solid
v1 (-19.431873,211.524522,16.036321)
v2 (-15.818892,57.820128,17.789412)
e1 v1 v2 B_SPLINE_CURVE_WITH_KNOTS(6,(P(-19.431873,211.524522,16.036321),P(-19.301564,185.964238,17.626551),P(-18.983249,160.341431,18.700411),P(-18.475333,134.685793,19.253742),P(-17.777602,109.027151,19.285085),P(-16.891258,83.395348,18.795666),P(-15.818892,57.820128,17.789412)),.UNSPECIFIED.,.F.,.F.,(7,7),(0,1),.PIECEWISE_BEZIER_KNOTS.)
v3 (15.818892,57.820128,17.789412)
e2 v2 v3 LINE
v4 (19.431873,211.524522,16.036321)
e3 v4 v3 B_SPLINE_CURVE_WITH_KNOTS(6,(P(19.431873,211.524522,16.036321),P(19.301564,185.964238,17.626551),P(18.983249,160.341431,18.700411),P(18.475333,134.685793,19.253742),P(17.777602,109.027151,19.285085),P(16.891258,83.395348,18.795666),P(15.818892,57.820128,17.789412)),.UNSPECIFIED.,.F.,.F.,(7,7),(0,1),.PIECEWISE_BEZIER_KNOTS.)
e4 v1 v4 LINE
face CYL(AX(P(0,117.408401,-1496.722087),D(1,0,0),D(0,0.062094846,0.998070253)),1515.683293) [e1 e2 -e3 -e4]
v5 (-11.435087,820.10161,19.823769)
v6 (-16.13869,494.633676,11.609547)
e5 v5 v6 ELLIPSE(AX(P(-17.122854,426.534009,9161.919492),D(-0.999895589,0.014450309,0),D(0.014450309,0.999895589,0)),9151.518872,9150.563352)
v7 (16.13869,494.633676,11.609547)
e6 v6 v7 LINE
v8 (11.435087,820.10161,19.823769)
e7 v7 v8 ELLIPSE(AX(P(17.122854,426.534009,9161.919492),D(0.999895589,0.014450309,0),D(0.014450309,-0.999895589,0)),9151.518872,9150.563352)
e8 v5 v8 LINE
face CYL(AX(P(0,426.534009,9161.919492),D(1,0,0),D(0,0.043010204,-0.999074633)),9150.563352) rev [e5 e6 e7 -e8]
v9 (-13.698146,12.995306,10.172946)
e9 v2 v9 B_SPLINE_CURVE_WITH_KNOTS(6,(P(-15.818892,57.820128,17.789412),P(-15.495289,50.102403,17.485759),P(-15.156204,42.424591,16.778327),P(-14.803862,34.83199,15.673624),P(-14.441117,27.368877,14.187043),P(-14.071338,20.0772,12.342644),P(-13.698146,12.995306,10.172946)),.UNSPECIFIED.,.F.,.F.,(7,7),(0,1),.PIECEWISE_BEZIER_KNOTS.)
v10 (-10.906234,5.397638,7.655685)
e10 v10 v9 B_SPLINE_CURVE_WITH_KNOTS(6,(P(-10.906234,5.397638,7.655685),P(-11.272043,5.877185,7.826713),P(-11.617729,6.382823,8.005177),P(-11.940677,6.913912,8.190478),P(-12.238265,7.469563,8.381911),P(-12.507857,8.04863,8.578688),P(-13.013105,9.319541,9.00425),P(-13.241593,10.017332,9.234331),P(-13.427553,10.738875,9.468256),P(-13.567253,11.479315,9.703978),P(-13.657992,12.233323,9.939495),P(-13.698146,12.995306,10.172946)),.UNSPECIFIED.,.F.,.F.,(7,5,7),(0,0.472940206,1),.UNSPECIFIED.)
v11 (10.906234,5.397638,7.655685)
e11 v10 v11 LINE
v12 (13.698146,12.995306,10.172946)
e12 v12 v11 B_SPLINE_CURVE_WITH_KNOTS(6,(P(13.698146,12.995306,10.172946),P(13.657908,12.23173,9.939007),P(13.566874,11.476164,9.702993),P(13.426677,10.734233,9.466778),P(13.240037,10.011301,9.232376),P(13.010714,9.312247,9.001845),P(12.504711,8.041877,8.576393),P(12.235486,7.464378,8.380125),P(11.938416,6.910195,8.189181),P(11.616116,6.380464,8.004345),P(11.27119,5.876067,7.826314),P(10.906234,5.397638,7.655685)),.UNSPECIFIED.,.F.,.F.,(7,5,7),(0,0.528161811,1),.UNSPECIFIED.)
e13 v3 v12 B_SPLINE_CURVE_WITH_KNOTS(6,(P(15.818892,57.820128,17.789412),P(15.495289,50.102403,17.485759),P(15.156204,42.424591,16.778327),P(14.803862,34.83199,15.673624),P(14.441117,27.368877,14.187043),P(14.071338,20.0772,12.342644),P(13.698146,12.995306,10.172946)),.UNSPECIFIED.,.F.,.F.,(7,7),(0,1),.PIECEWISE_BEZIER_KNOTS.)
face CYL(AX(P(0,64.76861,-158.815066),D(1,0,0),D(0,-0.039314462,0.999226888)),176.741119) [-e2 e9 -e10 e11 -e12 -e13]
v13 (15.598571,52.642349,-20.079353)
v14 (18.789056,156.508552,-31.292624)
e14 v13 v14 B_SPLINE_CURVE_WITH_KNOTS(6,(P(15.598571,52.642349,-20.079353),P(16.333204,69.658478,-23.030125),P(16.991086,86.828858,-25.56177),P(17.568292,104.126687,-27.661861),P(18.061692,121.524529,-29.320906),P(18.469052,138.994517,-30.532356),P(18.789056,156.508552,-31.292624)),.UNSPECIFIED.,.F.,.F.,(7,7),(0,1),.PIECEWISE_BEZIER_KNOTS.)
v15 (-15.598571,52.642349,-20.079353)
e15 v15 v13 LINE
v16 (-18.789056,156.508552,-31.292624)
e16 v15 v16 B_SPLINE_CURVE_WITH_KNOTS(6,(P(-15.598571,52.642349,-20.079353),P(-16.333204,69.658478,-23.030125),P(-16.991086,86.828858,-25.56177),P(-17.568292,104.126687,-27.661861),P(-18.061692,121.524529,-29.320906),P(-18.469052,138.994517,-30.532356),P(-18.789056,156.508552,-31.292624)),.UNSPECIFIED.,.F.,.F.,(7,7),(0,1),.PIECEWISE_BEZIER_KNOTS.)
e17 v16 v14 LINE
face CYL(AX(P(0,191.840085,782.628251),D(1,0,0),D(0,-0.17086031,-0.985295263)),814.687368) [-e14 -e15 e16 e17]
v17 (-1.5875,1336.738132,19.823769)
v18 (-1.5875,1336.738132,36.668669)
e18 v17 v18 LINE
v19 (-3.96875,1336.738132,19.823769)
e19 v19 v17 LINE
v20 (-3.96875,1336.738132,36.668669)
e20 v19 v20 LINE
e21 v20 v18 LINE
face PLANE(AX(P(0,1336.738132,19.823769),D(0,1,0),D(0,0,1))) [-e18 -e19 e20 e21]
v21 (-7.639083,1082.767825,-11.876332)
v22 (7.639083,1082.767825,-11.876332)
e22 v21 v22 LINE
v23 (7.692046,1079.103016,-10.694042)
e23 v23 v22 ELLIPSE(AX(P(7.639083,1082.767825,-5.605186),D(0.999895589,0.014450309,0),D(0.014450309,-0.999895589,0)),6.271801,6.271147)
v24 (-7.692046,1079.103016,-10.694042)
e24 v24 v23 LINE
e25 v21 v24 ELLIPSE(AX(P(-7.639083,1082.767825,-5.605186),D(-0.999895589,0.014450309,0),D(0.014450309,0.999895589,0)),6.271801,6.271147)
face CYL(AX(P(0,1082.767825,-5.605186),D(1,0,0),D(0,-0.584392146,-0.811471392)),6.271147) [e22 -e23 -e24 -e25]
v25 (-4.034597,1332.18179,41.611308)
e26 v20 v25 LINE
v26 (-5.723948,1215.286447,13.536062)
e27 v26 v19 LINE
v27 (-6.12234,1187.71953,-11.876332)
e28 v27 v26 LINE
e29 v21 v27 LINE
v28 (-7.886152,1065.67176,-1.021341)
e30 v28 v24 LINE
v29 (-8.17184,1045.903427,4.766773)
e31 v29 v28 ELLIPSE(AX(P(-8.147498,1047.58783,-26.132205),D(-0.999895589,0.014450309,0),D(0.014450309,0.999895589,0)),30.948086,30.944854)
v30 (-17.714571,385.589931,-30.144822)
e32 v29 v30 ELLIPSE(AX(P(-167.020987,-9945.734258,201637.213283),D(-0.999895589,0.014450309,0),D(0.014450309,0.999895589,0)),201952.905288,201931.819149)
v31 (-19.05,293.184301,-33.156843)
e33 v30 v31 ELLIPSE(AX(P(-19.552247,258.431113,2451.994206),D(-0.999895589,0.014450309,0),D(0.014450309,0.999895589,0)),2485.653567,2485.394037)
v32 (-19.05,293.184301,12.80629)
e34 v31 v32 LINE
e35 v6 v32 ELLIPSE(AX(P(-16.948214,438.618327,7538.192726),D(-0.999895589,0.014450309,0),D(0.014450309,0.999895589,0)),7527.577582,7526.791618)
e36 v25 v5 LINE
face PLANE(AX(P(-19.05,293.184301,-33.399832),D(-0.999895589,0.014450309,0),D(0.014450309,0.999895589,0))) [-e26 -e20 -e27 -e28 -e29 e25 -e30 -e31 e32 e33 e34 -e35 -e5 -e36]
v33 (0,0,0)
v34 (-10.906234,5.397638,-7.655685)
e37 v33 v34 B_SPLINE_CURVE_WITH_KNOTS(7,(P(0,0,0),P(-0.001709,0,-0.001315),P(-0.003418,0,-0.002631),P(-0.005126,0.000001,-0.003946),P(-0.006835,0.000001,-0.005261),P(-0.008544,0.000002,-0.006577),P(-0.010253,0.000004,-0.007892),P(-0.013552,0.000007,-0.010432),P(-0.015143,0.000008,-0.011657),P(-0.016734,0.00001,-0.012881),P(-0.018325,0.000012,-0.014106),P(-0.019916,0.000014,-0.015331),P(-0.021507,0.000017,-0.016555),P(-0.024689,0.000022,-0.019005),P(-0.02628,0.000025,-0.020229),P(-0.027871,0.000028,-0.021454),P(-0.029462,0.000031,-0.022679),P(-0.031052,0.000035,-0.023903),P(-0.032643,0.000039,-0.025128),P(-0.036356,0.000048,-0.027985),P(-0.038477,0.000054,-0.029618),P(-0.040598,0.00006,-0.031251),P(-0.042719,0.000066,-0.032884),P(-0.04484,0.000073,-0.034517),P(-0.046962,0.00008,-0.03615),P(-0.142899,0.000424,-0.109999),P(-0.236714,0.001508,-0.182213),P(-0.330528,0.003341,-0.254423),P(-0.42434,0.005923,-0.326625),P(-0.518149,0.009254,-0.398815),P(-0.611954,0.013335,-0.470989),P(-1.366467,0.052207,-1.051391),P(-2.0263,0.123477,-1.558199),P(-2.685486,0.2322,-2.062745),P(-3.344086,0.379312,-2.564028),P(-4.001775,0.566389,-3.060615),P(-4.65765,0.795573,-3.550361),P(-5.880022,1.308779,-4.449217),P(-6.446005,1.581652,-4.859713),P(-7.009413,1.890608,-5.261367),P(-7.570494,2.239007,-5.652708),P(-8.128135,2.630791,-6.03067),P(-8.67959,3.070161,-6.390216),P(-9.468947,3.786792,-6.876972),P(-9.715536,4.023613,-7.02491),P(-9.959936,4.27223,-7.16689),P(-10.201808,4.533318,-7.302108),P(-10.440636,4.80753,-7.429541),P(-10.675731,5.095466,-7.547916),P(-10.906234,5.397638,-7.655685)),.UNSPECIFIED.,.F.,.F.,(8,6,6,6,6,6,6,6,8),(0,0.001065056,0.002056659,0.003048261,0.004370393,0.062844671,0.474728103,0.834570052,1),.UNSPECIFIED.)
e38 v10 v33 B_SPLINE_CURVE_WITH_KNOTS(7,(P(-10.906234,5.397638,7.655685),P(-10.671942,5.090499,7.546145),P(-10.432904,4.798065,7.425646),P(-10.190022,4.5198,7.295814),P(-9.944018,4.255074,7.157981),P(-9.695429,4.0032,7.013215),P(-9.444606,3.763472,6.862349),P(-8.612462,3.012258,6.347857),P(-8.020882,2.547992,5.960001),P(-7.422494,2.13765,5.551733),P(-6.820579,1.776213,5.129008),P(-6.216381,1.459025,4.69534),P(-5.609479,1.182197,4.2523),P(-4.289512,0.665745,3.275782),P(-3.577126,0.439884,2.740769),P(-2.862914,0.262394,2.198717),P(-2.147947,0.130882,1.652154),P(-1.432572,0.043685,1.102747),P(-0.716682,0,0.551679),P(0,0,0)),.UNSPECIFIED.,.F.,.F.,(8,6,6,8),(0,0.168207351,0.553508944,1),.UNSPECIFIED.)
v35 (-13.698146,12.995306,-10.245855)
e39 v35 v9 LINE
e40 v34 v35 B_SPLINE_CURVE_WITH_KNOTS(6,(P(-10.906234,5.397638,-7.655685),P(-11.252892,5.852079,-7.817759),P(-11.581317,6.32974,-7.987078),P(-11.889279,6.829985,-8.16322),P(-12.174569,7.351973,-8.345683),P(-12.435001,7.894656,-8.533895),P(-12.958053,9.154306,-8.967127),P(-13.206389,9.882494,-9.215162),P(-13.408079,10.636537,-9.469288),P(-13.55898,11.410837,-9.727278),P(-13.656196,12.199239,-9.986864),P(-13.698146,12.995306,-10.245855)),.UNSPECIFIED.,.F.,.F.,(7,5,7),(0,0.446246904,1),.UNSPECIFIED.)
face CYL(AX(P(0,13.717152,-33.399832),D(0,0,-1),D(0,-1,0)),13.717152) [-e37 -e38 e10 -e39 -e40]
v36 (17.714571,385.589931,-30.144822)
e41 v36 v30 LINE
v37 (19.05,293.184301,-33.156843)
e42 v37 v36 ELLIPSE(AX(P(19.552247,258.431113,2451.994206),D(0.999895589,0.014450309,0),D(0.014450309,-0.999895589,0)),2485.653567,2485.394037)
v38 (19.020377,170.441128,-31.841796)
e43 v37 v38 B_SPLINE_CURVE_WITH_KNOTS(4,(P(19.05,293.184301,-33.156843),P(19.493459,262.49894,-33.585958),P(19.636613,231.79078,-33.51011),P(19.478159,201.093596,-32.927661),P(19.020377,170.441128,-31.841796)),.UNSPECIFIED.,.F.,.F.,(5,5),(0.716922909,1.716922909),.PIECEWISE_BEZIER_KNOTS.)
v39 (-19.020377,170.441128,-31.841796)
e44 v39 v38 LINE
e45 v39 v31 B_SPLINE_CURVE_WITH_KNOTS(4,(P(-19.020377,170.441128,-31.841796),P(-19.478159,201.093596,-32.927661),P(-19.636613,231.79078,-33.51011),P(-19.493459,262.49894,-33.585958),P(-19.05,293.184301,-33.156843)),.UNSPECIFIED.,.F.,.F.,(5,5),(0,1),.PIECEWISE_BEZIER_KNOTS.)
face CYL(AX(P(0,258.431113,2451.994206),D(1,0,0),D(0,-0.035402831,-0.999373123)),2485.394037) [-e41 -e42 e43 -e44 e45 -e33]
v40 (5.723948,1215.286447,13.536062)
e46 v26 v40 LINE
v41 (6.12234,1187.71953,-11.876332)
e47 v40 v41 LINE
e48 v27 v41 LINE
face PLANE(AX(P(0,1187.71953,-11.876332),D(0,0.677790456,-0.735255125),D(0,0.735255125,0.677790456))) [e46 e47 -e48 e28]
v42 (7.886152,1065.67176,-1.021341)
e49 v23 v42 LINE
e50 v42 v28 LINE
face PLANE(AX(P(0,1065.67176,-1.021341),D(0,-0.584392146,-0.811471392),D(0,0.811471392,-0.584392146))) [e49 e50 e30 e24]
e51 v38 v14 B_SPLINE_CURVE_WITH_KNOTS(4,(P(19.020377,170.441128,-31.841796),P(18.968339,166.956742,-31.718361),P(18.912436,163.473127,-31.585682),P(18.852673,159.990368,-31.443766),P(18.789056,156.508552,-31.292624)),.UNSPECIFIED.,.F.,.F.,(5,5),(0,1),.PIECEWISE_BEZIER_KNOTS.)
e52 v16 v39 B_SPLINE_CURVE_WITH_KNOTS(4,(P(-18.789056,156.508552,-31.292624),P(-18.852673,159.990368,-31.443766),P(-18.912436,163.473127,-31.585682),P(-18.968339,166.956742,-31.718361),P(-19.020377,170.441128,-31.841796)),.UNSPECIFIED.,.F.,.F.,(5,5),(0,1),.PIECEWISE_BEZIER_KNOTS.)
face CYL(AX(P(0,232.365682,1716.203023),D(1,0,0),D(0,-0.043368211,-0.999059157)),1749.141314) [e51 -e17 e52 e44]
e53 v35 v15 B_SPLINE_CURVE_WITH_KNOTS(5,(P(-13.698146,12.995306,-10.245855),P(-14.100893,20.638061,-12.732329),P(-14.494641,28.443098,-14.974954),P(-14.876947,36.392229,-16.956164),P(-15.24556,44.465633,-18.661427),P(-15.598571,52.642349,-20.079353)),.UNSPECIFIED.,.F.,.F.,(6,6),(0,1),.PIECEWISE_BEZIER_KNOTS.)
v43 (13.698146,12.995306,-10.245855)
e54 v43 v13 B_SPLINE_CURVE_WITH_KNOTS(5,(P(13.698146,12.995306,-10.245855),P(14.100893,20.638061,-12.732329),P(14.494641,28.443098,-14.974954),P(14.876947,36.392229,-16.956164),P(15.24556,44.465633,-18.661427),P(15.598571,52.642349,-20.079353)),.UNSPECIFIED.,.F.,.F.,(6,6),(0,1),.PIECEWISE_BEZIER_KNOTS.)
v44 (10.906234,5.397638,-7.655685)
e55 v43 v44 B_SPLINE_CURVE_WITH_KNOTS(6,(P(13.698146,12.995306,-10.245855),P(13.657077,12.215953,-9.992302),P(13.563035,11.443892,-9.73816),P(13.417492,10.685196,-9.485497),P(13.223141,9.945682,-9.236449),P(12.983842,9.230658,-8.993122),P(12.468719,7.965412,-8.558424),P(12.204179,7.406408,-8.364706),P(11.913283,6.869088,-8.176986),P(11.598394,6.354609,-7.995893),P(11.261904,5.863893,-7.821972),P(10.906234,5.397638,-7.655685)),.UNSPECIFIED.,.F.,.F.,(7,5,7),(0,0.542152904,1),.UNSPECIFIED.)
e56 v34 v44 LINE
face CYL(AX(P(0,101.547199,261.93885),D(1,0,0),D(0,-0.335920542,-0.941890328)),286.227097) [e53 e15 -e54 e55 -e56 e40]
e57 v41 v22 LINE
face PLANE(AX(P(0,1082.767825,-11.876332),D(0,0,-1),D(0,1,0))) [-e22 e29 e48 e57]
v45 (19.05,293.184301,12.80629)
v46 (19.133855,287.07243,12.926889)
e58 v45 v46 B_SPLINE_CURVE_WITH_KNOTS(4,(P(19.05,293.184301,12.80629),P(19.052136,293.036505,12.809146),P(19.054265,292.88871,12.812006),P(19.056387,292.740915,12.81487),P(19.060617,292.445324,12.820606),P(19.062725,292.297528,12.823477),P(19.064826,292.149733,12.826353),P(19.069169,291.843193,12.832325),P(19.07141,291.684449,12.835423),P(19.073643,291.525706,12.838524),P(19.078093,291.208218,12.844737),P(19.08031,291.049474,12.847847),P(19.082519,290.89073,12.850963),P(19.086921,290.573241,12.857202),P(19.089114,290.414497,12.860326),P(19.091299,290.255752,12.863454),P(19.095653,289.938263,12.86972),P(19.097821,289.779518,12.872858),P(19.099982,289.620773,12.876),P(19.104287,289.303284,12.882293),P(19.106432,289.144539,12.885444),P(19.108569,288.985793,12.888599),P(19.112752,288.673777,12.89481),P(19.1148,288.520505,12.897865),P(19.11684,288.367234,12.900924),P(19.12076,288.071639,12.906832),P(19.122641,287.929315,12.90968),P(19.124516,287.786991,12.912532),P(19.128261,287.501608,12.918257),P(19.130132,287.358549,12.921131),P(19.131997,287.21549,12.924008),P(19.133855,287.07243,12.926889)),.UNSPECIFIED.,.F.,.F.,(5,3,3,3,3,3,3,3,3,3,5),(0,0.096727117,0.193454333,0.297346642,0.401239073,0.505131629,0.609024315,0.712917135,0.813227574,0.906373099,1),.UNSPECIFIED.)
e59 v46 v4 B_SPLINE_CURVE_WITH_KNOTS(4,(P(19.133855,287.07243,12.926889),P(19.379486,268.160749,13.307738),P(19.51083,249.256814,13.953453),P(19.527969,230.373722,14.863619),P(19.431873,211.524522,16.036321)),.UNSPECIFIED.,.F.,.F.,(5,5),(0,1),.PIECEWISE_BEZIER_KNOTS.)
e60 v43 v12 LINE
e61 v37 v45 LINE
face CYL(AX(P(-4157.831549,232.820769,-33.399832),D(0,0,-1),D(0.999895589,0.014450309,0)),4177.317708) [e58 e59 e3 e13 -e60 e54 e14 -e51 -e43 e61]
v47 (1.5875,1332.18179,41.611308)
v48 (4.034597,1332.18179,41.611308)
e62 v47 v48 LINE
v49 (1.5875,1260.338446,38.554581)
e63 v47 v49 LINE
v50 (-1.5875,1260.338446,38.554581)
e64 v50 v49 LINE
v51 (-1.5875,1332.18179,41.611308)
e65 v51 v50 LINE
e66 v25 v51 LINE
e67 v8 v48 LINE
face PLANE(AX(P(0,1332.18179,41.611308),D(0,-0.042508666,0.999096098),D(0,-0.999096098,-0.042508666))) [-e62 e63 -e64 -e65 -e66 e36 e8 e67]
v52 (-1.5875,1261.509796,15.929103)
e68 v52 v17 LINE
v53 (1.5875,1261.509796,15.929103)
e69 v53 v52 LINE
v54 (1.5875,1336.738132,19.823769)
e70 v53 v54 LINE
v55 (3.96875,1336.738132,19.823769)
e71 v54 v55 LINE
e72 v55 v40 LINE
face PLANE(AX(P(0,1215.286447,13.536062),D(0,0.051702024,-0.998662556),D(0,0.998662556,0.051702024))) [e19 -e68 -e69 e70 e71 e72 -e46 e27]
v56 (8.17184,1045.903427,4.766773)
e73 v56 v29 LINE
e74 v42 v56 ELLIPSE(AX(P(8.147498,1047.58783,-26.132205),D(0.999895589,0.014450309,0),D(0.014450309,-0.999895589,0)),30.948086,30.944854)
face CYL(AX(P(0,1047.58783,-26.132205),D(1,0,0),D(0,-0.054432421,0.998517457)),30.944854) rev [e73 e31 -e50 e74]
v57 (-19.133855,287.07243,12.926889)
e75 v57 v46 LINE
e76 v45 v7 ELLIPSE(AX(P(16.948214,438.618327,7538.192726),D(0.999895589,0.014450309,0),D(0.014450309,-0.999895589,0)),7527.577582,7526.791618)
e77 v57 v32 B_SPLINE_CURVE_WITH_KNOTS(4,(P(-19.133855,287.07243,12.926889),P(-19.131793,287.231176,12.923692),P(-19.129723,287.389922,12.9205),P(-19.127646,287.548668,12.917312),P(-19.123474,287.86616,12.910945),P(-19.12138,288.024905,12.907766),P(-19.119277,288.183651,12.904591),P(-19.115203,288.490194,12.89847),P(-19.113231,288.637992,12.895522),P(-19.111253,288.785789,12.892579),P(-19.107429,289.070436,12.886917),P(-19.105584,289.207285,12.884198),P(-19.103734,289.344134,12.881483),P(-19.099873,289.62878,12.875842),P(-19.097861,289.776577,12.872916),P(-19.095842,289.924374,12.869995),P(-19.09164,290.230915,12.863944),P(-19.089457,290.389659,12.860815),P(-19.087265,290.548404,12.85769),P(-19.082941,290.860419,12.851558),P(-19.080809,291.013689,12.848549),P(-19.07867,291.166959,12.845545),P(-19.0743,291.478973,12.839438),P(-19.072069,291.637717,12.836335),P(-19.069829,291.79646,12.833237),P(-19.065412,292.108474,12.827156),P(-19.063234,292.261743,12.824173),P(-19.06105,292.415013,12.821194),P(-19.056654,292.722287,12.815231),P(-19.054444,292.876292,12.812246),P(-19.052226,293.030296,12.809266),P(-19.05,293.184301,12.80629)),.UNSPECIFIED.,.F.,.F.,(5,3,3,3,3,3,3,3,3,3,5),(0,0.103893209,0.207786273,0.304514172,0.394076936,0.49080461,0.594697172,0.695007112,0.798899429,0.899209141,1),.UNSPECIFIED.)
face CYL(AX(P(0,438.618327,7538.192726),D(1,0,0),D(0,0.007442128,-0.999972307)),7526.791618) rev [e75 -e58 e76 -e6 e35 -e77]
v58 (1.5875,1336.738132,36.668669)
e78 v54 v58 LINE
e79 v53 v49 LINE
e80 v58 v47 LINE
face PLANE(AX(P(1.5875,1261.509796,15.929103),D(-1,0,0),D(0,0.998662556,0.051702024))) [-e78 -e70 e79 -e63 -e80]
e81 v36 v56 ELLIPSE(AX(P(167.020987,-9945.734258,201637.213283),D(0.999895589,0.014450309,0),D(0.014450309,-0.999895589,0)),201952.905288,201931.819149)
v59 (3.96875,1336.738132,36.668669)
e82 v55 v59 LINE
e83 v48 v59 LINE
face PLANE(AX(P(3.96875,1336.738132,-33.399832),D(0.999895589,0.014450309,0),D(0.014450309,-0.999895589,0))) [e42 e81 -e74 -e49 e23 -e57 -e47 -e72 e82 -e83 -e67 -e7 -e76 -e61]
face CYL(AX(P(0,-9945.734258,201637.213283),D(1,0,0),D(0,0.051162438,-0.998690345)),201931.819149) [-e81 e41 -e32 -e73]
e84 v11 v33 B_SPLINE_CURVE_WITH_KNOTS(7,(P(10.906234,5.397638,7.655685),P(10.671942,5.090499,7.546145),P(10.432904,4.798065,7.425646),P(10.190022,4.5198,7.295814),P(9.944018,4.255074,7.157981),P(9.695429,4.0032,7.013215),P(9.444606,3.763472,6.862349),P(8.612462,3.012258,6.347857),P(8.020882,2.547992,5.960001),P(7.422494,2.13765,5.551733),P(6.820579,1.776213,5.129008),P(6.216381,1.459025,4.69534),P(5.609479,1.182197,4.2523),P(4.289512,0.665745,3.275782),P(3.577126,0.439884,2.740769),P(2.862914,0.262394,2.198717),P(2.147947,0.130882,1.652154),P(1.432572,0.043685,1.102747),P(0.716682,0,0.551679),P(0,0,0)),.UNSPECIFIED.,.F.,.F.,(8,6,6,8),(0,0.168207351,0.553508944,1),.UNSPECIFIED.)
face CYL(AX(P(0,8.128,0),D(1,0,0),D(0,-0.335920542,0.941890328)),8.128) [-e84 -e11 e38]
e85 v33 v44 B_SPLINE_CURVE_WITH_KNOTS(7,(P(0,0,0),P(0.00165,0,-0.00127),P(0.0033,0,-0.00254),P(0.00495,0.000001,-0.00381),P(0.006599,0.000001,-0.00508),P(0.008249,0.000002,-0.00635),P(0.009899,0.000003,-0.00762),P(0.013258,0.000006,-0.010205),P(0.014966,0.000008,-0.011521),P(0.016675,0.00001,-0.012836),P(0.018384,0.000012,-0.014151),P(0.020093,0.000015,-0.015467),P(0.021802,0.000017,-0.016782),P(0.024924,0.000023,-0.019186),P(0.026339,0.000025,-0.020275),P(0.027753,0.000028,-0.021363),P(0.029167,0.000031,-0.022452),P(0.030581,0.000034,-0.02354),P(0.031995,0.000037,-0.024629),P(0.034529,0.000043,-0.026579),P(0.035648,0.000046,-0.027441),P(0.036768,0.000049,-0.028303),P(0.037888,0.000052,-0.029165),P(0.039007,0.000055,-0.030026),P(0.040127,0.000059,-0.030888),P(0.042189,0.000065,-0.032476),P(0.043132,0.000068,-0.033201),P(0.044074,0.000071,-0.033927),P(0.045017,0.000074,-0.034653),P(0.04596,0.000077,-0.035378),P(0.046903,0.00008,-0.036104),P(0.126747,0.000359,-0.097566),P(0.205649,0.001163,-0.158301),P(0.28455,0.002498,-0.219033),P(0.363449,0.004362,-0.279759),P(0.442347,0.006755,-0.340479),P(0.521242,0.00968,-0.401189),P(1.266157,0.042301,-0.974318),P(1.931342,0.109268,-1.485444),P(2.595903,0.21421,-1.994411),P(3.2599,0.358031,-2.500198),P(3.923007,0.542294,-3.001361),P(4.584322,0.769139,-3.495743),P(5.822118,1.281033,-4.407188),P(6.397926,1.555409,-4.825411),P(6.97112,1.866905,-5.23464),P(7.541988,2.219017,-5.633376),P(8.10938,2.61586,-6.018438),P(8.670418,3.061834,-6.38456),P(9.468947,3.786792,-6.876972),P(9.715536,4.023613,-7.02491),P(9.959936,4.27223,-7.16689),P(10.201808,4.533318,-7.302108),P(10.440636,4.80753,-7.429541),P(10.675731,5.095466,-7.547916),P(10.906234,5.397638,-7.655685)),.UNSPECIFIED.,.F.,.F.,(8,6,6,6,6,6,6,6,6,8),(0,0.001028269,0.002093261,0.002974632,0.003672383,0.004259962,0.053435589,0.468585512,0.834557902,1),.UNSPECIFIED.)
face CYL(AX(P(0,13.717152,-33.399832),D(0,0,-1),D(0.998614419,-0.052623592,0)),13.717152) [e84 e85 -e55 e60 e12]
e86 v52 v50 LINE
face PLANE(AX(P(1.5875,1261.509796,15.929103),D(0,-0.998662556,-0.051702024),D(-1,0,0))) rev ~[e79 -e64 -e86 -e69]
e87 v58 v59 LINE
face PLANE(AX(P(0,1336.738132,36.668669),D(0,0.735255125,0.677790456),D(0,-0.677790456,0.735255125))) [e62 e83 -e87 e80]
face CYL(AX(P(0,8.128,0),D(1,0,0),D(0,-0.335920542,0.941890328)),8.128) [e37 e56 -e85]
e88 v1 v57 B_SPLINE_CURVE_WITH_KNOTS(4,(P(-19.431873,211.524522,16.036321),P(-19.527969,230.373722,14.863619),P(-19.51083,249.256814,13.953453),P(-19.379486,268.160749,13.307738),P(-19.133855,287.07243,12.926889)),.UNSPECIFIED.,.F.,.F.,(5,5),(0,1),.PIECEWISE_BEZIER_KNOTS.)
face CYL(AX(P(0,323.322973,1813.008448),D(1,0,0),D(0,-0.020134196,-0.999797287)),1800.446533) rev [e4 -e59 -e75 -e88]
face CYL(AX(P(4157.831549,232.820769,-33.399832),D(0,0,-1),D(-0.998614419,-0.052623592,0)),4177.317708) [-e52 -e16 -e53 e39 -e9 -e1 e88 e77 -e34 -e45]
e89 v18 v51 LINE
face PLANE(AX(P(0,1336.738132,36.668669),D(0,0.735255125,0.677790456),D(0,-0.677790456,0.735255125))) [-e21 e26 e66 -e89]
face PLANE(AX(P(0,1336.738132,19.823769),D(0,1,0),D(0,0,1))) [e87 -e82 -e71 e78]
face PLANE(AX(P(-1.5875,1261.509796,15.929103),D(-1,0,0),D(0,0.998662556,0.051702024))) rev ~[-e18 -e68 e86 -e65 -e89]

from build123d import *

# Parameters (mm, degrees)
BOSS_EXTRUDE1_DEPTH      = 31.75
BOSS_EXTRUDE1_DEPTH_BACK = 31.75
CUT_EXTRUDE2_DEPTH       = 1340.217520299
SKETCH3_W                = 3.175
SKETCH3_H                = 76.2
CUT_EXTRUDE3_DEPTH       = 1338.420695435


with BuildPart() as part:
    # Sketch1 → Boss-Extrude1 (new, two sides: drawn at the far end of the back side and taken through both)
    with BuildSketch(Plane(origin=(0, 0, 0), x_dir=(0, 0, -1), z_dir=(1, 0, 0)).offset(-BOSS_EXTRUDE1_DEPTH_BACK)):
        with BuildLine():
            Line((1.021340573, 1065.671760022), (10.69404187, 1079.103015809))
            ThreePointArc((10.69404187, 1079.103015809), (11.573445276, 1080.842426323), (11.876332412, 1082.767824636))
            Line((11.876332412, 1082.767824636), (11.876332412, 1187.719530026))
            Line((11.876332412, 1187.719530026), (-13.536061703, 1215.286446683))
            Line((-13.536061703, 1215.286446683), (-19.823769094, 1336.738131825))
            Line((-19.823769094, 1336.738131825), (-36.668668575, 1336.738131825))
            Line((-36.668668575, 1336.738131825), (-41.611308298, 1332.181789519))
            Line((-41.611308298, 1332.181789519), (-19.823769313, 820.101609747))
            ThreePointArc((-19.823769313, 820.101609747), (-14.269049163, 657.404177816), (-11.609546724, 494.633675821))
            ThreePointArc((-11.609546724, 494.633675821), (-11.552697494, 390.848511752), (-12.926889154, 287.072430162))
            ThreePointArc((-12.926889154, 287.072430162), (-14.08497073, 249.282151425), (-16.036320575, 211.524522345))
            ThreePointArc((-16.036320575, 211.524522345), (-18.862629391, 134.694563635), (-17.789412377, 57.820128469))
            ThreePointArc((-17.789412377, 57.820128469), (-14.713555739, 31.224003963), (-7.655684583, 5.397637832))
            ThreePointArc((-7.655684583, 5.397637832), (0, 0), (7.655684583, 5.397637832))
            ThreePointArc((7.655684583, 5.397637832), (14.877278089, 28.754462777), (20.079353087, 52.642348827))
            ThreePointArc((20.079353087, 52.642348827), (27.352586181, 104.395526294), (31.292623673, 156.508551558))
            ThreePointArc((31.292623673, 156.508551558), (31.58109291, 163.474292498), (31.841795924, 170.441127883))
            ThreePointArc((31.841795924, 170.441127883), (33.322524829, 278.033900996), (30.144822487, 385.589931009))
            ThreePointArc((30.144822487, 385.589931009), (12.959303763, 715.76096893), (-4.76677265, 1045.903426895))
            ThreePointArc((-4.76677265, 1045.903426895), (-3.565814336, 1056.283327954), (1.021340573, 1065.671760022))
        make_face()
    extrude(amount=BOSS_EXTRUDE1_DEPTH + BOSS_EXTRUDE1_DEPTH_BACK)

    # Sketch2 → Cut-Extrude2 (cut, through all)
    with BuildSketch(Plane.XY.offset(-33.399831543)):
        with BuildLine():
            Line((-31.75, 0), (0, 0))
            ThreePointArc((0, 0), (-9.440831446, 3.765721828), (-13.698146022, 12.995306427))
            ThreePointArc((-13.698146022, 12.995306427), (-18.724333894, 153.044911462), (-19.05, 293.18430056))
            Line((-19.05, 293.18430056), (-3.96875, 1336.738131825))
            Line((-3.96875, 1336.738131825), (-31.75, 1336.738131825))
            Line((-31.75, 1336.738131825), (-31.75, 0))
        make_face()
        with BuildLine():
            Line((3.96875, 1336.738131825), (19.05, 293.18430056))
            ThreePointArc((19.05, 293.18430056), (18.724333894, 153.044911462), (13.698146022, 12.995306427))
            ThreePointArc((13.698146022, 12.995306427), (9.440831446, 3.765721828), (0, 0))
            Line((0, 0), (31.75, 0))
            Line((31.75, 0), (31.75, 1336.738131825))
            Line((31.75, 1336.738131825), (3.96875, 1336.738131825))
        make_face()
    extrude(amount=CUT_EXTRUDE2_DEPTH, mode=Mode.SUBTRACT)

    # Sketch3 → Cut-Extrude3 (cut, through all)
    with BuildSketch(Plane(origin=(0, 2.549675539, -49.248855197), x_dir=(-1, 0, 0), z_dir=(0, 0.051702023951454394, -0.9986625559814103))):
        with Locations((0, 1298.746163787)):
            Rectangle(SKETCH3_W, SKETCH3_H)
    extrude(amount=-CUT_EXTRUDE3_DEPTH, mode=Mode.SUBTRACT)


solid = part.part
